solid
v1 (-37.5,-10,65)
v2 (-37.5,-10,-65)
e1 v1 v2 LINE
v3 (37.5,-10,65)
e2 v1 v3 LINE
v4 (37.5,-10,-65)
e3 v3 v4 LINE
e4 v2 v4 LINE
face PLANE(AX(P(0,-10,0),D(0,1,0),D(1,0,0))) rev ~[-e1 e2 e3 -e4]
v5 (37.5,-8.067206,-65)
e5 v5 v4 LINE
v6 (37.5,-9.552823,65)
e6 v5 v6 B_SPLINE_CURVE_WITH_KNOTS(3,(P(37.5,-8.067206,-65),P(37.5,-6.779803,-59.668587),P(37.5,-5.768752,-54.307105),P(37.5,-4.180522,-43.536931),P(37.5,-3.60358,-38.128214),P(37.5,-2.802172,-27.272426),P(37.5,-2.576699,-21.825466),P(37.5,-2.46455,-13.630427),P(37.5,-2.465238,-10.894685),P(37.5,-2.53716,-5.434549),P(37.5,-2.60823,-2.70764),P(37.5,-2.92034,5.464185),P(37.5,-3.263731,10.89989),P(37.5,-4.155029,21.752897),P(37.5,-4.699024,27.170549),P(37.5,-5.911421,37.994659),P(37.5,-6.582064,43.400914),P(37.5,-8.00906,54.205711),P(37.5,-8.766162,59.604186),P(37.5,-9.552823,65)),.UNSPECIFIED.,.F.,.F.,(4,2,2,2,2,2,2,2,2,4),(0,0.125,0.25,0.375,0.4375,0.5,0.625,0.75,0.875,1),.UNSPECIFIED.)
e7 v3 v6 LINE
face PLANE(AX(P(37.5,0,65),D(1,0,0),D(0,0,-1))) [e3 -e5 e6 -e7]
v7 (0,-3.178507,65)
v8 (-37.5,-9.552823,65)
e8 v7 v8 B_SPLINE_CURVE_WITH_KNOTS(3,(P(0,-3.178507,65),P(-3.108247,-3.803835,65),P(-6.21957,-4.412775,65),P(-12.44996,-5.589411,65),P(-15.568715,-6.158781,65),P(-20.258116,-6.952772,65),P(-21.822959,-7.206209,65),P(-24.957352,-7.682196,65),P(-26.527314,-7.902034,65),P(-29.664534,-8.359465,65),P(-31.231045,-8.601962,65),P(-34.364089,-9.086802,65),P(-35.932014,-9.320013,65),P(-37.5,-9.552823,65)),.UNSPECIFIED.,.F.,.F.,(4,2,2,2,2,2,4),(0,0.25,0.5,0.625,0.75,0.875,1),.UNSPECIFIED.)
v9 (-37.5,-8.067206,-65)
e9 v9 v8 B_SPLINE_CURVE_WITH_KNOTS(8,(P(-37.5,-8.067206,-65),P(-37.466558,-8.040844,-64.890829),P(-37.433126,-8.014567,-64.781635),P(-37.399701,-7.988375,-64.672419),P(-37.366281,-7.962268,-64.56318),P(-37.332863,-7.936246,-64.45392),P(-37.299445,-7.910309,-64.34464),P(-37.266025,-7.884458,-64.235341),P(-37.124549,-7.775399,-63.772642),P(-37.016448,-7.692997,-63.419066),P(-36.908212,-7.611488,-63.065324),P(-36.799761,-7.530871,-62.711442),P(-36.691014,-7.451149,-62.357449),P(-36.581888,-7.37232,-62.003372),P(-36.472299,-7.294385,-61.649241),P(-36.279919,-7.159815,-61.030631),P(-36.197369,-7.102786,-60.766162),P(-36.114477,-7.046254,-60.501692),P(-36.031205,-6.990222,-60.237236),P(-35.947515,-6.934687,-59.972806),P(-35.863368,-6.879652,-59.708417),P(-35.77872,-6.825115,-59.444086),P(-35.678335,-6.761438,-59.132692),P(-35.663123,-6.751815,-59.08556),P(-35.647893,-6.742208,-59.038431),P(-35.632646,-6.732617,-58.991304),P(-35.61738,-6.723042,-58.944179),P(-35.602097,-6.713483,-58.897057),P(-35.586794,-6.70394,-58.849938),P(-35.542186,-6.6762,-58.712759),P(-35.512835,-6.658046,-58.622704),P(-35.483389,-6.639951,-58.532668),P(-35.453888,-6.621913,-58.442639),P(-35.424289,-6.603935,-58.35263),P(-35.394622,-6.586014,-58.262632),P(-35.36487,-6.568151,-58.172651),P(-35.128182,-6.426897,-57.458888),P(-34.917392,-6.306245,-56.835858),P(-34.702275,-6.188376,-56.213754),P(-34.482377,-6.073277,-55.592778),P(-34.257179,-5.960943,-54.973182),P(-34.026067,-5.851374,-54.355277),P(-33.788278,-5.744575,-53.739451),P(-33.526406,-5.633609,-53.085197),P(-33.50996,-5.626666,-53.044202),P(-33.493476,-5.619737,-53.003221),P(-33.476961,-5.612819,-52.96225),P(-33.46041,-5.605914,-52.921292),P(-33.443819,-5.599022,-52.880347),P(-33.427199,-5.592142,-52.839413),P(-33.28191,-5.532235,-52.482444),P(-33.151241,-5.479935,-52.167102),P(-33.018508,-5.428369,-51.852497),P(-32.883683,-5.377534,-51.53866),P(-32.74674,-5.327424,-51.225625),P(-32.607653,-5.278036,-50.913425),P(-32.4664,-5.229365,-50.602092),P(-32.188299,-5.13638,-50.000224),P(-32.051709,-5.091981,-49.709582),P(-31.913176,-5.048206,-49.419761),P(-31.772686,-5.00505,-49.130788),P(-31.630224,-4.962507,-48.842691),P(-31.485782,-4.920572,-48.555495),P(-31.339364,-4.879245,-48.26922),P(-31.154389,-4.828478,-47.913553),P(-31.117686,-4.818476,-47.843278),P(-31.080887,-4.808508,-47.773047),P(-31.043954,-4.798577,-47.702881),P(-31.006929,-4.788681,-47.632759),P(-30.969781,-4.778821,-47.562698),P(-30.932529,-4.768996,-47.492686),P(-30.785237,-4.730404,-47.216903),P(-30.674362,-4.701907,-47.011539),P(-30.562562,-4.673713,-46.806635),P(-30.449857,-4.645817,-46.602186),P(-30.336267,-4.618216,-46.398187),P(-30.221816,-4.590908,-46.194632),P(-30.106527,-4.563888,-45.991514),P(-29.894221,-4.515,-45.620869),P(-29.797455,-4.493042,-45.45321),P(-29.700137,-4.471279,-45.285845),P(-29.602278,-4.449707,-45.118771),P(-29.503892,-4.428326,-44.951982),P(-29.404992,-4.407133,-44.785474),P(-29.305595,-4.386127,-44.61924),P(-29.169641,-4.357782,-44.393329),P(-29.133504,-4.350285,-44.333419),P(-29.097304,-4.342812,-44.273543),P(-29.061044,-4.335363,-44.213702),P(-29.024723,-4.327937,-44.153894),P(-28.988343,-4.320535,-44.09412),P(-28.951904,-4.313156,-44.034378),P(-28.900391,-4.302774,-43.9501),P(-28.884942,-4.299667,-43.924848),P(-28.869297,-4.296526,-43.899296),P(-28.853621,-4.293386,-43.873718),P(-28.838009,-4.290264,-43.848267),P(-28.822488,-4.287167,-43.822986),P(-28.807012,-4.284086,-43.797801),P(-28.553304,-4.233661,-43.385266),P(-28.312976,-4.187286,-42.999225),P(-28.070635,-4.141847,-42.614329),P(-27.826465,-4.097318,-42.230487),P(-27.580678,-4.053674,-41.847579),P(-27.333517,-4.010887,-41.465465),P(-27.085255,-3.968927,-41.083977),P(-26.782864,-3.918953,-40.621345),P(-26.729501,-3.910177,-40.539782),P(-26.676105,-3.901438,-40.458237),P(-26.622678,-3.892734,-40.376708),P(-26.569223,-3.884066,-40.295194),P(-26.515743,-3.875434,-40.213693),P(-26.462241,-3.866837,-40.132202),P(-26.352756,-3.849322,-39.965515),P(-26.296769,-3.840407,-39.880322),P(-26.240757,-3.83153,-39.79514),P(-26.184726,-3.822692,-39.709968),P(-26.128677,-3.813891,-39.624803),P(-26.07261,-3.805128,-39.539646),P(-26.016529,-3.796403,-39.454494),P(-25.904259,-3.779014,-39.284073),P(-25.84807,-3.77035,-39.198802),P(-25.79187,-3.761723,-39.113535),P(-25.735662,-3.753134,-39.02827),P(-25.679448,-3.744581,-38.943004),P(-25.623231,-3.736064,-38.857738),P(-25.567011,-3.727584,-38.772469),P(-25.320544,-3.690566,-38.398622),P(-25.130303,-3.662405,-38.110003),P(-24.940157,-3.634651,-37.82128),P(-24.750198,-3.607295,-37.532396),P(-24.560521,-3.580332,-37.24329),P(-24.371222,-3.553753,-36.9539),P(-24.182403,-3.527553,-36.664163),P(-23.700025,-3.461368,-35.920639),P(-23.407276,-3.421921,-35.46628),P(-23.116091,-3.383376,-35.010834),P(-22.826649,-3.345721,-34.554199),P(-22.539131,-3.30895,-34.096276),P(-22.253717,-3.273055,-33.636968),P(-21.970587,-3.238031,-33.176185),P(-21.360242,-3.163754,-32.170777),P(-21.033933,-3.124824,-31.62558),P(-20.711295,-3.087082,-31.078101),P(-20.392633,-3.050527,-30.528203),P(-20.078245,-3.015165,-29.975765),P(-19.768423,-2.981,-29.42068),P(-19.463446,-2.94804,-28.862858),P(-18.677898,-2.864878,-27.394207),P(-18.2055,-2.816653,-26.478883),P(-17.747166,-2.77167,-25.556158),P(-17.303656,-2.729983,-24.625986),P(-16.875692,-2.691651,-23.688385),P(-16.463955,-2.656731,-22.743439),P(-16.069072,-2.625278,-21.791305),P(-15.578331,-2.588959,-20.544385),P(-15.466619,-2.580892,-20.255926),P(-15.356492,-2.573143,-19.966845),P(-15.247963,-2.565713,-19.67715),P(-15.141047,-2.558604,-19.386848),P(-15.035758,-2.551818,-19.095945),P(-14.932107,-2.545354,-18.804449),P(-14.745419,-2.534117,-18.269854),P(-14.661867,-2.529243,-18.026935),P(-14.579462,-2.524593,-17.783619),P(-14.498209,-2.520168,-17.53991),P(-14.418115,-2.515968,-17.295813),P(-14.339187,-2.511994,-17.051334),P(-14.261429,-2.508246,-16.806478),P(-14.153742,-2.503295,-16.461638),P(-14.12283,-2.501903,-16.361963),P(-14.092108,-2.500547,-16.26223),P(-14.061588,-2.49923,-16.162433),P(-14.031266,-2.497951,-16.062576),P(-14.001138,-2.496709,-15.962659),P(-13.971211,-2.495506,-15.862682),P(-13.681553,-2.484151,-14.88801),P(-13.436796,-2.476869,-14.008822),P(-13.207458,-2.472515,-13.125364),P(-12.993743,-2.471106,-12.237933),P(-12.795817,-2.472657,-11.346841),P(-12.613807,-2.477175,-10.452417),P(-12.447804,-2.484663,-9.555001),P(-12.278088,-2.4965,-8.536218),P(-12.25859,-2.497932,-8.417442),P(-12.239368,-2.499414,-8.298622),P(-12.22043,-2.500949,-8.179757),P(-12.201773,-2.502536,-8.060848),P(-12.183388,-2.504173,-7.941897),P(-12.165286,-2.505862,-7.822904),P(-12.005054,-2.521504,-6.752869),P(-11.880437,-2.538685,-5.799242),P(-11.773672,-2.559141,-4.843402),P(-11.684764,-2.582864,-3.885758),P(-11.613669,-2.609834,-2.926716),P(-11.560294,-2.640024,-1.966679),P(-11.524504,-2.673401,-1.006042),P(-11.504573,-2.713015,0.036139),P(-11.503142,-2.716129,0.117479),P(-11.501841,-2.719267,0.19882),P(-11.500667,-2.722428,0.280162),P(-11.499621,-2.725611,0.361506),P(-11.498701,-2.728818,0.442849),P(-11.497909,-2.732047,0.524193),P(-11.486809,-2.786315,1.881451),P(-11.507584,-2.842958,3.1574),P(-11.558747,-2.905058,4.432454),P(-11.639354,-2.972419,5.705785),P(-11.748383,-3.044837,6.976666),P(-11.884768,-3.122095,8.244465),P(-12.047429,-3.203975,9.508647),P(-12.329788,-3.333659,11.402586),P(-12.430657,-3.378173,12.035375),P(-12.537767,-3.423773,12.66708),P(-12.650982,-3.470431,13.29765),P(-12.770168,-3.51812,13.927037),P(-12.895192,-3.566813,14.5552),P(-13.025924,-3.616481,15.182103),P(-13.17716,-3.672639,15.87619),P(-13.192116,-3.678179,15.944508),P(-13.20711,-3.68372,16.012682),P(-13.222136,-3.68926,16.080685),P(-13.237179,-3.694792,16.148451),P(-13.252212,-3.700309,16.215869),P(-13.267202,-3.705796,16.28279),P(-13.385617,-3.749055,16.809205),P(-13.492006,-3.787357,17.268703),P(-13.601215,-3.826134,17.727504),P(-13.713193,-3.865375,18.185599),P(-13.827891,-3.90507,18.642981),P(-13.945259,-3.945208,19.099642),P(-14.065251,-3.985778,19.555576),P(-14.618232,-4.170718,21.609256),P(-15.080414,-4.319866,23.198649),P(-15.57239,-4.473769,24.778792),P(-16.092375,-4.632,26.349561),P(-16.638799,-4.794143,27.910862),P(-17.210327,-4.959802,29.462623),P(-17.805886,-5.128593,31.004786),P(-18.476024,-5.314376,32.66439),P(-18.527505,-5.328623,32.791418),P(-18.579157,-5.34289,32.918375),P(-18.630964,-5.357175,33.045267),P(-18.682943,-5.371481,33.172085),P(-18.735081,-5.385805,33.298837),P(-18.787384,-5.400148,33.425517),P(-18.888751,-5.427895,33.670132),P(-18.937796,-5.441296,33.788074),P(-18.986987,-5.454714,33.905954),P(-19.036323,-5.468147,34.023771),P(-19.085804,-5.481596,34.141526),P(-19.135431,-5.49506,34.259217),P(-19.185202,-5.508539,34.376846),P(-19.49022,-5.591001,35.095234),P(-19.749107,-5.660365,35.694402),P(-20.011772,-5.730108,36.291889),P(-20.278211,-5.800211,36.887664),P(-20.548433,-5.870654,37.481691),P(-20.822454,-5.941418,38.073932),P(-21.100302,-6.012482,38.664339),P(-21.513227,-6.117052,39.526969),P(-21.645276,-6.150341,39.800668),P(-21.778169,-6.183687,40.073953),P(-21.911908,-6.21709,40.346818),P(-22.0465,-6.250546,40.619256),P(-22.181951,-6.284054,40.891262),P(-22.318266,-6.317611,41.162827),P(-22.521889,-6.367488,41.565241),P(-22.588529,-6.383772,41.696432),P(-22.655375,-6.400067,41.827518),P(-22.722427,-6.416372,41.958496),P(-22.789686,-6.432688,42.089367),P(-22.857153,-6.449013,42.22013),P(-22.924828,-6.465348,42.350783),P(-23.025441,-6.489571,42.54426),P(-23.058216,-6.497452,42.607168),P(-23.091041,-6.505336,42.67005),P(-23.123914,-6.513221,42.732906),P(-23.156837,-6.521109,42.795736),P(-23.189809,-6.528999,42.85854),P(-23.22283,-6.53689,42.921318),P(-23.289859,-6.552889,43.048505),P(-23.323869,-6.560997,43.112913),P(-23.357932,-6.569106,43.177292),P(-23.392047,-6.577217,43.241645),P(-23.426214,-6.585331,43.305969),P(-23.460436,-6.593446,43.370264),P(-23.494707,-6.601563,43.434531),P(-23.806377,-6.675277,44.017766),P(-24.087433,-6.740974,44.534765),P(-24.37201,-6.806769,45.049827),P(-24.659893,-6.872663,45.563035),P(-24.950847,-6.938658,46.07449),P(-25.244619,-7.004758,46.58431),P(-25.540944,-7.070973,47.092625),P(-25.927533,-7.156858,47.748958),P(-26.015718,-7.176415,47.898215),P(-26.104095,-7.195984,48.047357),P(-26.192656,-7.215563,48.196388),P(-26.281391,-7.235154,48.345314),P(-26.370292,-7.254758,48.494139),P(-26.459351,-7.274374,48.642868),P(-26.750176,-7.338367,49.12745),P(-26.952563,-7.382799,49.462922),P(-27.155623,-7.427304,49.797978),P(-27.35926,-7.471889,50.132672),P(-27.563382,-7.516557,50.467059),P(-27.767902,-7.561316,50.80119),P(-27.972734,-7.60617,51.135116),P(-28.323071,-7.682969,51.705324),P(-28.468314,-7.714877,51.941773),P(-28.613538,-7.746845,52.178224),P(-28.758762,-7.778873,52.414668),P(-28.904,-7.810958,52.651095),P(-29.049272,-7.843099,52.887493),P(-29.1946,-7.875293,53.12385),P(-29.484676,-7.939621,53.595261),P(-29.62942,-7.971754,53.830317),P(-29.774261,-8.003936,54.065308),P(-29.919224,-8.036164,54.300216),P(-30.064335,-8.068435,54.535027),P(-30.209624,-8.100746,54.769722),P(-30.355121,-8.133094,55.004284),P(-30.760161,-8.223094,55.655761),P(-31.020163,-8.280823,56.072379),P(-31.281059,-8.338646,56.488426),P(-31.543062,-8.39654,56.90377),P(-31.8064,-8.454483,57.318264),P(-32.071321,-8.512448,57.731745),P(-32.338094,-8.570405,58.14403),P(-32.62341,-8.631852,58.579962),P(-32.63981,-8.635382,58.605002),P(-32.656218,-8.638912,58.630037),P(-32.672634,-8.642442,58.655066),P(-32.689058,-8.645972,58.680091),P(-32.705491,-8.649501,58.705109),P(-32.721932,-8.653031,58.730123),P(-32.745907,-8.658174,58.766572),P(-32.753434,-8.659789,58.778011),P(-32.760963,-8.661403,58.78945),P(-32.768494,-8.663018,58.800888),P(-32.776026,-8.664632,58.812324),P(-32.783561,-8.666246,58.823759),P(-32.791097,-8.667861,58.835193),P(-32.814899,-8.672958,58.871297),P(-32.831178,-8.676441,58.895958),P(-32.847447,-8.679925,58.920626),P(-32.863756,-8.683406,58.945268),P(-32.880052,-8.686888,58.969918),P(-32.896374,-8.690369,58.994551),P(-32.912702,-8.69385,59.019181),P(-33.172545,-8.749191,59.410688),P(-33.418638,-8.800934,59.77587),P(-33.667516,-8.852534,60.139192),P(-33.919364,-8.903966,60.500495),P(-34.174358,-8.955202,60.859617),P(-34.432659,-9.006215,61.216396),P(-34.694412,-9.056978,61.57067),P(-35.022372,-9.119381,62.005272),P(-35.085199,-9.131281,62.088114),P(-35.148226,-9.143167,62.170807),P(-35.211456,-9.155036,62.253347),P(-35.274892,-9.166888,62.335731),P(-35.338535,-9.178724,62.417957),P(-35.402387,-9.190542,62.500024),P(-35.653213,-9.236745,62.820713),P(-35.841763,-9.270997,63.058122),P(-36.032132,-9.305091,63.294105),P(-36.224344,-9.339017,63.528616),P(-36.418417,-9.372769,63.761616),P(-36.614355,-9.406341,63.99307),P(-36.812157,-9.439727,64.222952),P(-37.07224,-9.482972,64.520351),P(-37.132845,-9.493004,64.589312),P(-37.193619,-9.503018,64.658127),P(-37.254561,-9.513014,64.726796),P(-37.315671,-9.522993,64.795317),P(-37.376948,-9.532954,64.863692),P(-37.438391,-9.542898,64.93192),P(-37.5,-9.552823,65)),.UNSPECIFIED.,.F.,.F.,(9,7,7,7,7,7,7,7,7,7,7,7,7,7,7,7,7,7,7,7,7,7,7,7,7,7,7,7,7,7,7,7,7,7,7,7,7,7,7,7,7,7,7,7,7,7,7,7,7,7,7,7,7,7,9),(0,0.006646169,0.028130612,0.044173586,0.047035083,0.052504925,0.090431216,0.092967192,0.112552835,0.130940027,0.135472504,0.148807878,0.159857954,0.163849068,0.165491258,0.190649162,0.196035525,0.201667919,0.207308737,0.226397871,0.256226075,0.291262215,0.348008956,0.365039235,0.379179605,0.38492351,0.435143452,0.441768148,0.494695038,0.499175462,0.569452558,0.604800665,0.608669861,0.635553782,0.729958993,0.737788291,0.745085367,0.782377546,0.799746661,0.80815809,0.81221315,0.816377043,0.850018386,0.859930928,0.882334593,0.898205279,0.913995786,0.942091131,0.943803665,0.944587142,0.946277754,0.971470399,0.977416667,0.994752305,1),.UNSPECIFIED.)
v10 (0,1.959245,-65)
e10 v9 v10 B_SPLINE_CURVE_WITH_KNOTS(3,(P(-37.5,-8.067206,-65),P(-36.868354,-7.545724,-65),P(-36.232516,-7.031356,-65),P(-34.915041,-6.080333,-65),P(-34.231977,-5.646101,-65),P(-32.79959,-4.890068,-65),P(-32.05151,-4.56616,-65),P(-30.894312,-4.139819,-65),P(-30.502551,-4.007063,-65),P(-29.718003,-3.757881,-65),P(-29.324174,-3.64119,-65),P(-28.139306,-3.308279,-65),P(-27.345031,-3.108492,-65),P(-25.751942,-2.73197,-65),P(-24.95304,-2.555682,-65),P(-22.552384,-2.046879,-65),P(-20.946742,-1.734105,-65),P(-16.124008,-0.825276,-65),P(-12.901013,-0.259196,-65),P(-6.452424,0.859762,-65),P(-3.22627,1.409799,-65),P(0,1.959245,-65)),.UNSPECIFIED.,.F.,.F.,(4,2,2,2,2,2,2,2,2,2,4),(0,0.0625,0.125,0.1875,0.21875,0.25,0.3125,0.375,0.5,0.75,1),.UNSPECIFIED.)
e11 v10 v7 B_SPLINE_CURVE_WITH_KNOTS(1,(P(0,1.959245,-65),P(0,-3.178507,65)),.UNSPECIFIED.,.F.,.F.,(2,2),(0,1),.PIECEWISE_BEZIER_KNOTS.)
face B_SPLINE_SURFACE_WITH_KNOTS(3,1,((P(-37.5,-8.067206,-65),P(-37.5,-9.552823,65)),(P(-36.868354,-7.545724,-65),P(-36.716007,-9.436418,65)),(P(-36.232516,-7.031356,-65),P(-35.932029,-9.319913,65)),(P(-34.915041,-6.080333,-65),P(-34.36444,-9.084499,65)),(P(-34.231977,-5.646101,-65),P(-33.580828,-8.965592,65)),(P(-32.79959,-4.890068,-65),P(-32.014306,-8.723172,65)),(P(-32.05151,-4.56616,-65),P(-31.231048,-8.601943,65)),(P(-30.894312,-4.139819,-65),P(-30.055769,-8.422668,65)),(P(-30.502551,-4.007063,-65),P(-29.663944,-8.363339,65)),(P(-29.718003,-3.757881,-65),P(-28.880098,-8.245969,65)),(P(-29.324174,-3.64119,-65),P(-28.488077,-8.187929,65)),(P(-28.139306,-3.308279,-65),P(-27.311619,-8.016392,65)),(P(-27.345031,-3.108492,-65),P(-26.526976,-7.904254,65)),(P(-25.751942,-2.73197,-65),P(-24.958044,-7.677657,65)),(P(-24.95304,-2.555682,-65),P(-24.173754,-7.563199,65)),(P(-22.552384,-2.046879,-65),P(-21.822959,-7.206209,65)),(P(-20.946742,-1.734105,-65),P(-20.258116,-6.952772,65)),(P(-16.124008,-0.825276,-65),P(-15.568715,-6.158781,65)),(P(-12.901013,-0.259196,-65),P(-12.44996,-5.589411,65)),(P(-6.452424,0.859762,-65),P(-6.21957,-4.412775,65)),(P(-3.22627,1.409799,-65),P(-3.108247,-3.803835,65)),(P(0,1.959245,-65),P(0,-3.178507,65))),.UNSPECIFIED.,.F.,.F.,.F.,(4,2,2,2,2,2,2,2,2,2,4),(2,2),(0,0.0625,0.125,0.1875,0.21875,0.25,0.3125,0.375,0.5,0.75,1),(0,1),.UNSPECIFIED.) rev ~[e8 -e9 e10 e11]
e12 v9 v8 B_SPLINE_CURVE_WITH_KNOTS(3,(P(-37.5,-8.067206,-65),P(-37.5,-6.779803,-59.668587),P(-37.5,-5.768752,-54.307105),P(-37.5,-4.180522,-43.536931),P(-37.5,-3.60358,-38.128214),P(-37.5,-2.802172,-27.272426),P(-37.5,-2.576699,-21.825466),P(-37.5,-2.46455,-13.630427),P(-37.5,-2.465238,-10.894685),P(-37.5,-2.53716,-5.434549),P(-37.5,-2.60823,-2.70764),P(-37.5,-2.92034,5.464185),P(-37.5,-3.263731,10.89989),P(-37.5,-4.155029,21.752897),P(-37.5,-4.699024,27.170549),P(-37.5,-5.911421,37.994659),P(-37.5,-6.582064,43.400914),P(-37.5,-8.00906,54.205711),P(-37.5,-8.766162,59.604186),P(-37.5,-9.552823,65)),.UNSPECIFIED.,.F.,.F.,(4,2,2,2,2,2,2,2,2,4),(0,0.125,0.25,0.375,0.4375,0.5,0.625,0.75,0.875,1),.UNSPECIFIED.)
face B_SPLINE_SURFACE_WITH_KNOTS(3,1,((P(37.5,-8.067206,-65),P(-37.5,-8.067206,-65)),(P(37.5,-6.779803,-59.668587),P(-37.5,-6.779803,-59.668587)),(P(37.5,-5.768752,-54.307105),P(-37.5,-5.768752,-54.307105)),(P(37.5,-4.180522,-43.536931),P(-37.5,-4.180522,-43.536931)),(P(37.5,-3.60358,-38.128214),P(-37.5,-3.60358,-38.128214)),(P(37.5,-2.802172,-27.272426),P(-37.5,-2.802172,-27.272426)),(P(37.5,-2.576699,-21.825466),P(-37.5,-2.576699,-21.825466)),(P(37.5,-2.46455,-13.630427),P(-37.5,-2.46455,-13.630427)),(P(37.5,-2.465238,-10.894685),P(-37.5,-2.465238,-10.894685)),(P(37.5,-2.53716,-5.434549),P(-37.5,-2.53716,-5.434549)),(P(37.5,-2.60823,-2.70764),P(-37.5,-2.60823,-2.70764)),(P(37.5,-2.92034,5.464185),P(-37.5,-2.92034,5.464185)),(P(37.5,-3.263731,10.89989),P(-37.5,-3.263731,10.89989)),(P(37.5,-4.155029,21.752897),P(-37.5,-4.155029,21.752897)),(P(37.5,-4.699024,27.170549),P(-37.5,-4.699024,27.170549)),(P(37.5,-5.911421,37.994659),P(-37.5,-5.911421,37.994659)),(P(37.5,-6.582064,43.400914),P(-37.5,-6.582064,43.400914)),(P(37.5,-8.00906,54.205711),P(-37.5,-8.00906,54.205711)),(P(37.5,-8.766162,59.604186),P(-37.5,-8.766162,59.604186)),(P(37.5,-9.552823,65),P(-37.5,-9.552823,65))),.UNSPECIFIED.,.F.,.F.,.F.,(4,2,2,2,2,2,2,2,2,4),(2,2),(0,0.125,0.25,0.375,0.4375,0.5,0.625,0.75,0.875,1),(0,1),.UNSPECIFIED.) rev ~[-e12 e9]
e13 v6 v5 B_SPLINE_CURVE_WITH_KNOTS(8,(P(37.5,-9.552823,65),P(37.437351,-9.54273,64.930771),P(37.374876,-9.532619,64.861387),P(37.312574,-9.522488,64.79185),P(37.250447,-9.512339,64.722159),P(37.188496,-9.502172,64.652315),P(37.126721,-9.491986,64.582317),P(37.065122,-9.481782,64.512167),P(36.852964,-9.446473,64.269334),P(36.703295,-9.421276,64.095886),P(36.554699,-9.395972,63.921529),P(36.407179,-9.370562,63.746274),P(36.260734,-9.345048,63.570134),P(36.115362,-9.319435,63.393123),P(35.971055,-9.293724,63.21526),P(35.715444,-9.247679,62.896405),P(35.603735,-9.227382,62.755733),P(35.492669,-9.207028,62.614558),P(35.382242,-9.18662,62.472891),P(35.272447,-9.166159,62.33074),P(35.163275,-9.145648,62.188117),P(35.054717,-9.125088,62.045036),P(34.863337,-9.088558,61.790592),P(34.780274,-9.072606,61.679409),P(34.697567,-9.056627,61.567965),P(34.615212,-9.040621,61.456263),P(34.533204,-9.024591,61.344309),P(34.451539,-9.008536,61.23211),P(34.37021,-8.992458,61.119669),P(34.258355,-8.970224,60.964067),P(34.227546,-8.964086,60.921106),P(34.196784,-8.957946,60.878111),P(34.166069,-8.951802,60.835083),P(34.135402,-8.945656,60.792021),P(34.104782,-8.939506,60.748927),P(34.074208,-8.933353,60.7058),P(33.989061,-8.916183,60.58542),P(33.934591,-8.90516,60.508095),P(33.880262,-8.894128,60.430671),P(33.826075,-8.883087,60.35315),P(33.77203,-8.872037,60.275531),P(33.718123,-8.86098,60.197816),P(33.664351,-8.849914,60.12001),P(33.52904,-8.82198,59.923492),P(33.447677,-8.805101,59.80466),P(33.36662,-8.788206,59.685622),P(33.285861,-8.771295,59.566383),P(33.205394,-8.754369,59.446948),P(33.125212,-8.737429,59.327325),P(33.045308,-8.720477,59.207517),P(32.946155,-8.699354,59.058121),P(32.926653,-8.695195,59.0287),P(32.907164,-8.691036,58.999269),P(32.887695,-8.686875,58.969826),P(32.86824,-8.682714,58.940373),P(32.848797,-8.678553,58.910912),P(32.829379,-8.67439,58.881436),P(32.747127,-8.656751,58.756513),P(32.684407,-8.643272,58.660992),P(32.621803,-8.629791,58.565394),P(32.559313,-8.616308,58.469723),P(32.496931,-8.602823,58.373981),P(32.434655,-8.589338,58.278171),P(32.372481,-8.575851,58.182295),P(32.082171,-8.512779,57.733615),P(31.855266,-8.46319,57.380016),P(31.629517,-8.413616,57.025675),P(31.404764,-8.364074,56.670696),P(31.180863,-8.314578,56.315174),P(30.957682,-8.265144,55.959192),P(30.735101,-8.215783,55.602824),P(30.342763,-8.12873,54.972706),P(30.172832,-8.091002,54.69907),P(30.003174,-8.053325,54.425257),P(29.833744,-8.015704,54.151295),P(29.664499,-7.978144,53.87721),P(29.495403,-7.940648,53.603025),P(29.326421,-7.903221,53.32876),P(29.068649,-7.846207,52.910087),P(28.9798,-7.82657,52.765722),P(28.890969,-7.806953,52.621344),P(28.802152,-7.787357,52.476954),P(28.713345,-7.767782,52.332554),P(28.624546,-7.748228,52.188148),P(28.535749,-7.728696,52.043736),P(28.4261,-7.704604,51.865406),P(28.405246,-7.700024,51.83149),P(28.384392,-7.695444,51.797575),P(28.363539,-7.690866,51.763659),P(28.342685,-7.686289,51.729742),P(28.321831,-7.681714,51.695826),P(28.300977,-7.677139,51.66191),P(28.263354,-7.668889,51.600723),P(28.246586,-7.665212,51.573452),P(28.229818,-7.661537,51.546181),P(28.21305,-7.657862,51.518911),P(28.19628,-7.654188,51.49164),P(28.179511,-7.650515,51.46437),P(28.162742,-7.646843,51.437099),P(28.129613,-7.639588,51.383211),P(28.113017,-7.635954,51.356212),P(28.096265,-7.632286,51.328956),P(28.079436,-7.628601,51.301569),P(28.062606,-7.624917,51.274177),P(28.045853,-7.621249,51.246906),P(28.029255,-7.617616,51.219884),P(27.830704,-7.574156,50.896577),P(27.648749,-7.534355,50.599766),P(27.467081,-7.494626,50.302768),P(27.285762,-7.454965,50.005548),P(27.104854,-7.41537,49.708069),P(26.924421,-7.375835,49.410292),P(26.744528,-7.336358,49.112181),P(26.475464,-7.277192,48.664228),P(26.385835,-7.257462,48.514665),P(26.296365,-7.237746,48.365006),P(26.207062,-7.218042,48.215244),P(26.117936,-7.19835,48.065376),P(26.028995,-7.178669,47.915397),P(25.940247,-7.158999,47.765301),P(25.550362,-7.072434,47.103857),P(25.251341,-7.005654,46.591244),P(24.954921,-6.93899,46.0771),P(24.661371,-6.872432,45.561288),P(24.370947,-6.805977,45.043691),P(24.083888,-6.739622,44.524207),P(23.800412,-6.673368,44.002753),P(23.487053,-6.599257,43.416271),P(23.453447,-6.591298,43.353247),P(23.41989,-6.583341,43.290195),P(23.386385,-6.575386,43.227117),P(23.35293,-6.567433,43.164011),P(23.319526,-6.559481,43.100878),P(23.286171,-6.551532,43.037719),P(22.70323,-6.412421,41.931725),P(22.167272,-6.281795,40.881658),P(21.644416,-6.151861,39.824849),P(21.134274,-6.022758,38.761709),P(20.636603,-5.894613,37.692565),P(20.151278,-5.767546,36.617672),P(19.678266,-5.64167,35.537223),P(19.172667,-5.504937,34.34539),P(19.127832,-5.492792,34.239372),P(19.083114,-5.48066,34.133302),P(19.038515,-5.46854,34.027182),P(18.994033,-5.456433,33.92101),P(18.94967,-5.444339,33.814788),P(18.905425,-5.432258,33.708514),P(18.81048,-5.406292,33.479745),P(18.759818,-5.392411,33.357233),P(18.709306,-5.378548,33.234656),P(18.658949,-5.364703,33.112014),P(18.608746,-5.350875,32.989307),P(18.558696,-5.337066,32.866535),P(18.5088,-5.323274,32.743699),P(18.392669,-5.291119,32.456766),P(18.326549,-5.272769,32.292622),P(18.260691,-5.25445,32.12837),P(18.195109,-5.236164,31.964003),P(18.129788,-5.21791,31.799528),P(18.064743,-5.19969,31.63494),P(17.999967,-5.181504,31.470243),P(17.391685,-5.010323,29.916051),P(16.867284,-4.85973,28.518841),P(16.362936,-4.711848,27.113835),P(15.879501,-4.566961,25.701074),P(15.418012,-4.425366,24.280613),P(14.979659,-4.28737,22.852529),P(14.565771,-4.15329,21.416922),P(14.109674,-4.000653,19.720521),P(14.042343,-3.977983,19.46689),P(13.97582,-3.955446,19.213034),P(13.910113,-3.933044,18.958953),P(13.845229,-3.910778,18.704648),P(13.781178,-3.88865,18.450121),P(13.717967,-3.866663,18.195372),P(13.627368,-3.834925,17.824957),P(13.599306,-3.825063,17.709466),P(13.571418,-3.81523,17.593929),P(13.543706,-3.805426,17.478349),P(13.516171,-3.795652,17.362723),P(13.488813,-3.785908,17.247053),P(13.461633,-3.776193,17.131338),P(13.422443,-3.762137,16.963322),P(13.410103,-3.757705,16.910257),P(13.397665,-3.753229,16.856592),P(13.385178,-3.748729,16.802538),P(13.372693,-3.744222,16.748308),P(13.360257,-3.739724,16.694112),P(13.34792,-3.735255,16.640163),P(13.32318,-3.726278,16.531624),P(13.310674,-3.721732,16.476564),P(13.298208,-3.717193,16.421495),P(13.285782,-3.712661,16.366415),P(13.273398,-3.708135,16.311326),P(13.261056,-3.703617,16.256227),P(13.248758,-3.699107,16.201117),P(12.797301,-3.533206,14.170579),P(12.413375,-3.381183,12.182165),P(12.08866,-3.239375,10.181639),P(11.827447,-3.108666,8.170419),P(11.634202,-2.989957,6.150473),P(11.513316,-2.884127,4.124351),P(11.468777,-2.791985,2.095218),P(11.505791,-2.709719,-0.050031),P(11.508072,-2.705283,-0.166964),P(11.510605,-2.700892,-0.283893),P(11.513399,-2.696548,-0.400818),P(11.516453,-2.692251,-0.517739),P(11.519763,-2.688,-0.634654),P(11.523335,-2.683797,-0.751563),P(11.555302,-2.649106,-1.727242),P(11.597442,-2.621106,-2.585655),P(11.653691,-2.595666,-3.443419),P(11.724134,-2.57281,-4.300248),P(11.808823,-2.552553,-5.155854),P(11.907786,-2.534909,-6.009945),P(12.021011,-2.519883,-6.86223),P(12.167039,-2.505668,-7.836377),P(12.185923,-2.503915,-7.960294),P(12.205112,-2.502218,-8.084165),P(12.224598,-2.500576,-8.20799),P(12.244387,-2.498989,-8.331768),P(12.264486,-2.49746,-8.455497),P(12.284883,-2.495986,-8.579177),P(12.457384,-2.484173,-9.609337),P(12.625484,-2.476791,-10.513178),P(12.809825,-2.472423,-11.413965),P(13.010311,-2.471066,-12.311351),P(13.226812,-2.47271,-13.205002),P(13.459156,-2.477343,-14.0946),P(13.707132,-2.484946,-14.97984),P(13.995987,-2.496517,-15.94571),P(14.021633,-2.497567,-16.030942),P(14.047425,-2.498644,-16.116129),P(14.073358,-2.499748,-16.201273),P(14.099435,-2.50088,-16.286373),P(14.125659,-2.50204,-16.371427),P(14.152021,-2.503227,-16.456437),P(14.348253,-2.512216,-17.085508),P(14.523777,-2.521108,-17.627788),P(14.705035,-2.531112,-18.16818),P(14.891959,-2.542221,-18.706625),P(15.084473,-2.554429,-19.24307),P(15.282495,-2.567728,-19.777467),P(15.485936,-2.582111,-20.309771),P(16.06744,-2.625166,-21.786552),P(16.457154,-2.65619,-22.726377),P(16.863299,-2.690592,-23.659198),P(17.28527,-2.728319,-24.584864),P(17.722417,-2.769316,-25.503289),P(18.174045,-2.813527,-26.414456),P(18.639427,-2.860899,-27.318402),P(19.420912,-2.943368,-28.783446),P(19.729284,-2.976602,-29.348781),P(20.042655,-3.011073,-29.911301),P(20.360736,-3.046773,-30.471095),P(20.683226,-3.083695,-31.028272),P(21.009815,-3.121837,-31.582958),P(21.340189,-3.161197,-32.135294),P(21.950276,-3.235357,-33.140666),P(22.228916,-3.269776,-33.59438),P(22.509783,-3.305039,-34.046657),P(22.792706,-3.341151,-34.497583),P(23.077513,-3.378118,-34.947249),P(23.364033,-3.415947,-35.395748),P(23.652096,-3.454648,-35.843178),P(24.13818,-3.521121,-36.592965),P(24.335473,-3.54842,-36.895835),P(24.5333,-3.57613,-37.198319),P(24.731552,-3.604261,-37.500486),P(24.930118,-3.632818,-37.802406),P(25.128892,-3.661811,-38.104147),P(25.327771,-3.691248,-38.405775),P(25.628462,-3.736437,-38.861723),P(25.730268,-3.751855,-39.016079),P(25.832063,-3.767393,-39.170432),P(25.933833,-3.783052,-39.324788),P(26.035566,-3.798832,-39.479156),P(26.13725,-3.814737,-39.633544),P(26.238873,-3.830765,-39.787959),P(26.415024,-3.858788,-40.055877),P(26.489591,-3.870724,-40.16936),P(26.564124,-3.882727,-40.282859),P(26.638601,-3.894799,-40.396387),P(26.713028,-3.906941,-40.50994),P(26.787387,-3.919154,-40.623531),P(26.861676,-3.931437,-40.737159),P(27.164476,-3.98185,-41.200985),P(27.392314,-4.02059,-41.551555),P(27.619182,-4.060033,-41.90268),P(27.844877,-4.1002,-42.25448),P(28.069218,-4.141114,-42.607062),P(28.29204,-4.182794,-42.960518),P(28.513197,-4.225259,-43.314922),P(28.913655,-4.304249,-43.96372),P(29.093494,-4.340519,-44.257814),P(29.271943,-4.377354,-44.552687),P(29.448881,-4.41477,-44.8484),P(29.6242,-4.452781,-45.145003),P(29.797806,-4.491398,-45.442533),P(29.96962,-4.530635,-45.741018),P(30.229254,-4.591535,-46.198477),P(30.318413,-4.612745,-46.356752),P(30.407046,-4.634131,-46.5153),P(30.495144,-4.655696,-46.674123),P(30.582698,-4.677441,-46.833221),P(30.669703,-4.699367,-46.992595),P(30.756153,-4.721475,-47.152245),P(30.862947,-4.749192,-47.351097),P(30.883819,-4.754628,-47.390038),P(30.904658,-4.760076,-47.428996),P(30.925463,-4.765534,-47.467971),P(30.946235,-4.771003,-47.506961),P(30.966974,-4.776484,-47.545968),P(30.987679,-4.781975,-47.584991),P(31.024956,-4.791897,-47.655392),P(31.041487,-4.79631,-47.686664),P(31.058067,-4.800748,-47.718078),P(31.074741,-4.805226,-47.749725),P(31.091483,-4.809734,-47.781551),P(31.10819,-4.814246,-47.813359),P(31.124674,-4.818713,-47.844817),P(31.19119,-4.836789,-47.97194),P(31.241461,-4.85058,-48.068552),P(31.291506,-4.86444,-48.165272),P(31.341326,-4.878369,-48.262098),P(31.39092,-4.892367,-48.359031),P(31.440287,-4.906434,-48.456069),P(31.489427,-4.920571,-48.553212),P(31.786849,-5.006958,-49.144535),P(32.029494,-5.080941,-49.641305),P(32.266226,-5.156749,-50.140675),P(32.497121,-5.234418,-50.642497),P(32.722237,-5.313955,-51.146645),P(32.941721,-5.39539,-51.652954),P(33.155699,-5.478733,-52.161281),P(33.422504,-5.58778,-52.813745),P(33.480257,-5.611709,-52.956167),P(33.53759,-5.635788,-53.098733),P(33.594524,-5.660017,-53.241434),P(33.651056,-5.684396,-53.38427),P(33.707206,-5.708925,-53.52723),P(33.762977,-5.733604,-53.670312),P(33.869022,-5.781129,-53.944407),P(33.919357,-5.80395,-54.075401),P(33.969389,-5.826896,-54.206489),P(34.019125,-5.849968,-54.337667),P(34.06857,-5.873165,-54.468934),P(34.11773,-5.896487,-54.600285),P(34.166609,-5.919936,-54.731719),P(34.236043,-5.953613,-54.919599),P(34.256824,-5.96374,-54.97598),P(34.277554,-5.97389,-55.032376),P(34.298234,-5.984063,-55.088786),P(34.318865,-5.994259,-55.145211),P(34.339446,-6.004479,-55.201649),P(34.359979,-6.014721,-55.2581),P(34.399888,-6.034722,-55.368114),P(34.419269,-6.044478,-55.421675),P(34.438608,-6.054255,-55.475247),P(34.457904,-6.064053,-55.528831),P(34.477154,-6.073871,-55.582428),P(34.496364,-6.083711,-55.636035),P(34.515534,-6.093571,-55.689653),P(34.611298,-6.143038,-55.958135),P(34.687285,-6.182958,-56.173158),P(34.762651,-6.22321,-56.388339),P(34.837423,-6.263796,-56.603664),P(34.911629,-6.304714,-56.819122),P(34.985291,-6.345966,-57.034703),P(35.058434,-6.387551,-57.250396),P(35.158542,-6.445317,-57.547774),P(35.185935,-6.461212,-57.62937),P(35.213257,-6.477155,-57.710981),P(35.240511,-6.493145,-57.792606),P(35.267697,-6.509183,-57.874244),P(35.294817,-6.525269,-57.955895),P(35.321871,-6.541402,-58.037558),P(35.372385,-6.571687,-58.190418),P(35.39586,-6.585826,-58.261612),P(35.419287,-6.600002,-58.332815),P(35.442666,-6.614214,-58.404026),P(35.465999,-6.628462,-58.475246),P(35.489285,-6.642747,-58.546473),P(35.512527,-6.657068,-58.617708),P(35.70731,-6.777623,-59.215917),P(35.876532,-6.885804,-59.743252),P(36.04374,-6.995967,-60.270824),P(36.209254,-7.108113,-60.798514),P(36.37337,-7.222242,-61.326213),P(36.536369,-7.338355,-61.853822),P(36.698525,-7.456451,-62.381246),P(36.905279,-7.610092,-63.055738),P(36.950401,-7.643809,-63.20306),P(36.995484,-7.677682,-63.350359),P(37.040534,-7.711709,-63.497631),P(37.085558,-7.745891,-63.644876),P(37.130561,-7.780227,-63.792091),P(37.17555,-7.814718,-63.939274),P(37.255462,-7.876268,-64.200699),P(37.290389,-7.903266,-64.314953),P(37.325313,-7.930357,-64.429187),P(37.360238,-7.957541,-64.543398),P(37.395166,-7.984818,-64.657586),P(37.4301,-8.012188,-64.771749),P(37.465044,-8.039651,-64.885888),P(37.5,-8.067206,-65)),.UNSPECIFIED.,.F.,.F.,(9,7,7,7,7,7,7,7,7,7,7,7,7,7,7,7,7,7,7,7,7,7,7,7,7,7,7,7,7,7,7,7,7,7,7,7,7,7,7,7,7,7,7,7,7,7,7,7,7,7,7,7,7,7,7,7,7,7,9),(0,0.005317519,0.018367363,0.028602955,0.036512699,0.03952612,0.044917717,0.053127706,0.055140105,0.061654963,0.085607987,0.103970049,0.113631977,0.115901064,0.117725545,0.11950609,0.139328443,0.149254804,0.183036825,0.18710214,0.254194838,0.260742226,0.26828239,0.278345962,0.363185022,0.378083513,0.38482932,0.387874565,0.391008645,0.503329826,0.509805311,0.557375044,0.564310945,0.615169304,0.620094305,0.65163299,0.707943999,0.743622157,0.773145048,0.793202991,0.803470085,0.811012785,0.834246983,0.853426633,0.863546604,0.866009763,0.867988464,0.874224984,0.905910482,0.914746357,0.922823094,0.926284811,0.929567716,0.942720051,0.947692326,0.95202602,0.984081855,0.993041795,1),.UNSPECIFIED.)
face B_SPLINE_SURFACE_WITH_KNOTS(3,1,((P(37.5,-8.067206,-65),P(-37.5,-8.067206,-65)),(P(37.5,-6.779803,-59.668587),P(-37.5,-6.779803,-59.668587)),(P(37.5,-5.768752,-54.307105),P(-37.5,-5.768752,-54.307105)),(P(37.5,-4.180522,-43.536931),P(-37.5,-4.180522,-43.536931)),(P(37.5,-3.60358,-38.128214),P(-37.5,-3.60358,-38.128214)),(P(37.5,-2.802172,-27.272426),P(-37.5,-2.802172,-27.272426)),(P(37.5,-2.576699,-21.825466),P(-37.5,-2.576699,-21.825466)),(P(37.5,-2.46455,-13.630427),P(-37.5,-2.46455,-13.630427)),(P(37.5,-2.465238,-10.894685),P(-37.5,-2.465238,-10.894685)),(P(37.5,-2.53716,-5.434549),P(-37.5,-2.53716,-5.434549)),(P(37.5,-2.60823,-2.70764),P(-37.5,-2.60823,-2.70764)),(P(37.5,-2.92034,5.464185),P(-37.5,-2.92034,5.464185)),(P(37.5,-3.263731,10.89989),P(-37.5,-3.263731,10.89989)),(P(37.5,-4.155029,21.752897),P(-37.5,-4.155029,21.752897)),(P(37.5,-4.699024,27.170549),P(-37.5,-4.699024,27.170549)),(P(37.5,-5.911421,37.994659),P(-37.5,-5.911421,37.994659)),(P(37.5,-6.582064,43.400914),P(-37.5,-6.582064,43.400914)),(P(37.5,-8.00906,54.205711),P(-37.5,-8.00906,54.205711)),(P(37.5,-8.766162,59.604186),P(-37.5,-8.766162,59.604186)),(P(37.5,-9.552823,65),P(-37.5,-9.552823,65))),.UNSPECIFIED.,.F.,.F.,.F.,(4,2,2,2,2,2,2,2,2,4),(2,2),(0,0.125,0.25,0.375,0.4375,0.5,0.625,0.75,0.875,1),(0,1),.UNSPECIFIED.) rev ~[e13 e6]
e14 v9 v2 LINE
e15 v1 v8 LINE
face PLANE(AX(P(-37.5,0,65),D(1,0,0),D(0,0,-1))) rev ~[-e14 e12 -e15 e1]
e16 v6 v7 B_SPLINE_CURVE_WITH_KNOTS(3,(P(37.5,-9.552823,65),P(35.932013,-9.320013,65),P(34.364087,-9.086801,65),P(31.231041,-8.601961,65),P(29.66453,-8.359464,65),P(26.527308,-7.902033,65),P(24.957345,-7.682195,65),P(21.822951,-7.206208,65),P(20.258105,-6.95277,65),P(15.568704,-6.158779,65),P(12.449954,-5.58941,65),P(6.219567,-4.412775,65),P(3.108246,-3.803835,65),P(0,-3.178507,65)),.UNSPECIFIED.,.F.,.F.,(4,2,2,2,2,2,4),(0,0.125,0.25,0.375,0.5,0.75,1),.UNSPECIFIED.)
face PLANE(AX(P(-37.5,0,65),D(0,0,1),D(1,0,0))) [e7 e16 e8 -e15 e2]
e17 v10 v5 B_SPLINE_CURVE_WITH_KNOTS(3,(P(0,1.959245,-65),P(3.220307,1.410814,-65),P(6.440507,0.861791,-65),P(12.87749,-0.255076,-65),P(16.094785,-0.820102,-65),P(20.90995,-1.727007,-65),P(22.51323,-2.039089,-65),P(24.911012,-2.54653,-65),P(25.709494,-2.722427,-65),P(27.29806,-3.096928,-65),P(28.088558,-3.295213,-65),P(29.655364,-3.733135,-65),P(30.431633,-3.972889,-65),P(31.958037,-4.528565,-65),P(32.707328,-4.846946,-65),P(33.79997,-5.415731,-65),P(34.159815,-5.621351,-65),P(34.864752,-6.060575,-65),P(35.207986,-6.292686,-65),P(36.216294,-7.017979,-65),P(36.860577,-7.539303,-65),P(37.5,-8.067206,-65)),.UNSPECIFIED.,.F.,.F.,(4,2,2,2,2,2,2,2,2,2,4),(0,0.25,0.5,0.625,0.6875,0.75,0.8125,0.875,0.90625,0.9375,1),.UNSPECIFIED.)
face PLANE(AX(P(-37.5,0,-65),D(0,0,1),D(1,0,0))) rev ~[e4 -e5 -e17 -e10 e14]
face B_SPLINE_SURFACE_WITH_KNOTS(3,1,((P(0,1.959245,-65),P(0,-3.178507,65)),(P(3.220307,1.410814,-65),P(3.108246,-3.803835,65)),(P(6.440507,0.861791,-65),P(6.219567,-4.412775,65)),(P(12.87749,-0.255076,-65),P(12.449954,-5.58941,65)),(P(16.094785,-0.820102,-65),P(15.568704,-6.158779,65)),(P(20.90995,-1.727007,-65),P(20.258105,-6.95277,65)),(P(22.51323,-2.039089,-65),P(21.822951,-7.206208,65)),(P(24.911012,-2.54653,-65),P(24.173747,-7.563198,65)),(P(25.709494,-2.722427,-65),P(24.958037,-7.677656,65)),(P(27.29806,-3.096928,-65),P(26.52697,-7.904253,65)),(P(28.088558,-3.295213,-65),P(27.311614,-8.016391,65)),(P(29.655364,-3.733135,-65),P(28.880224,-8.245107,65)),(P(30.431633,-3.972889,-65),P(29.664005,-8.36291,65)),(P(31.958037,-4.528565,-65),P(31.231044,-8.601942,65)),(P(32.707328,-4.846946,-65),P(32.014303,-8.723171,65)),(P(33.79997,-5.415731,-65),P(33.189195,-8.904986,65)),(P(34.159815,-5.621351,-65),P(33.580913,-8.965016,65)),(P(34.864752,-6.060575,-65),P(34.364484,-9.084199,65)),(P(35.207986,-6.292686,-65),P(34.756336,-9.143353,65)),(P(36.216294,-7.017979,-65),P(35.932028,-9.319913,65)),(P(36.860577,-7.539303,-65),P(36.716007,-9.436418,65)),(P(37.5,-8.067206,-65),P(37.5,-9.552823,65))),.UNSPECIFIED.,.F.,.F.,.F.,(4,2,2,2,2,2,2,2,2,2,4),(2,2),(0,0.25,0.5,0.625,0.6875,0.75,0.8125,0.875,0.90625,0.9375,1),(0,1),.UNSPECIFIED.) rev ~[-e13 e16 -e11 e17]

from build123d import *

# Parameters (mm, degrees)
SKETCH1_W           = 75
SKETCH1_H           = 130
BOSS_EXTRUDE1_DEPTH = 10


with BuildPart() as part:
    # Sketch1 → Boss-Extrude1 (new, symmetric)
    with BuildSketch(Plane(origin=(0, 0, 0), x_dir=(1, 0, 0), z_dir=(0, 1, 0))):
        Rectangle(SKETCH1_W, SKETCH1_H)
    extrude(amount=BOSS_EXTRUDE1_DEPTH, both=True)

    # Sketch18 → Cut-Loft2 section 0
    with BuildSketch(Plane(origin=(0, 0, -65), x_dir=(-1, 0, 0), z_dir=(0, 0, -1))):
        with BuildLine():
            Line((-37.5, -8.067205879), (-37.5, 10))
            Line((-37.5, 10), (37.5, 10))
            Line((37.5, 10), (37.5, -8.067205879))
            add(Edge.make_bspline(
                [(37.5, -8.067205879), (36.868354158, -7.545723818), (36.232515665, -7.031356123), (34.9150412, -6.080332922), (34.231976939, -5.64610103), (32.799590286, -4.890068418), (32.051510087, -4.566159862), (30.894312176, -4.139819038), (30.50255078, -4.007063364), (29.718003297, -3.757880572), (29.324173778, -3.641189654), (28.139305681, -3.308278708), (27.345030939, -3.108492419), (25.751942464, -2.731969529), (24.953040234, -2.555682332), (22.552383626, -2.046879016), (20.946741679, -1.73410457), (16.124007748, -0.825275602), (12.901013123, -0.259195592), (6.452423939, 0.859761572), (3.226270152, 1.409798881), (0, 1.959245267)],
                knots=[0, 0, 0, 0, 0.0625, 0.0625, 0.125, 0.125, 0.1875, 0.1875, 0.21875, 0.21875, 0.25, 0.25, 0.3125, 0.3125, 0.375, 0.375, 0.5, 0.5, 0.75, 0.75, 1, 1, 1, 1], degree=3))
            add(Edge.make_bspline(
                [(0, 1.959245267), (-3.220307336, 1.410814372), (-6.440507139, 0.86179111), (-12.877490243, -0.255075859), (-16.09478496, -0.820102332), (-20.909950392, -1.727007192), (-22.513230185, -2.03908866), (-24.911012133, -2.546530452), (-25.709493997, -2.722427014), (-27.298060456, -3.096927844), (-28.088557635, -3.29521287), (-29.655363733, -3.733135251), (-30.431632803, -3.972888742), (-31.958036808, -4.528564833), (-32.707328207, -4.846945958), (-33.799969506, -5.415730657), (-34.159815247, -5.621350704), (-34.864751883, -6.060575044), (-35.207986102, -6.292686311), (-36.216294341, -7.017979177), (-36.860577231, -7.539303245), (-37.5, -8.067205879)],
                knots=[0, 0, 0, 0, 0.25, 0.25, 0.5, 0.5, 0.625, 0.625, 0.6875, 0.6875, 0.75, 0.75, 0.8125, 0.8125, 0.875, 0.875, 0.90625, 0.90625, 0.9375, 0.9375, 1, 1, 1, 1], degree=3))
        make_face()
    # Sketch19 → Cut-Loft2 section 1
    with BuildSketch(Plane.XY.offset(65)):
        with BuildLine():
            Line((-37.5, -9.55282328), (-37.5, 10))
            Line((-37.5, 10), (37.5, 10))
            Line((37.5, 10), (37.5, -9.55282328))
            add(Edge.make_bspline(
                [(37.5, -9.55282328), (35.932013067, -9.320012995), (34.36408728, -9.086801305), (31.231041127, -8.601961383), (29.664529784, -8.359464397), (26.527308392, -7.902033368), (24.957345427, -7.682195005), (21.822950757, -7.206207592), (20.258104881, -6.952769992), (15.568704339, -6.158778808), (12.449953925, -5.589410309), (6.219567493, -4.412774878), (3.108245531, -3.803834972), (0, -3.178506899)],
                knots=[0, 0, 0, 0, 0.125, 0.125, 0.25, 0.25, 0.375, 0.375, 0.5, 0.5, 0.75, 0.75, 1, 1, 1, 1], degree=3))
            add(Edge.make_bspline(
                [(0, -3.178506899), (-3.10824669, -3.803835204), (-6.21957007, -4.412775385), (-12.449959995, -5.589411435), (-15.568715473, -6.158780795), (-20.258115527, -6.952771743), (-21.822959191, -7.206208919), (-24.957352089, -7.68219597), (-26.527314428, -7.902034226), (-29.664534297, -8.359465077), (-31.231044679, -8.601961938), (-34.364088921, -9.086801553), (-35.932013884, -9.320013117), (-37.5, -9.55282328)],
                knots=[0, 0, 0, 0, 0.25, 0.25, 0.5, 0.5, 0.625, 0.625, 0.75, 0.75, 0.875, 0.875, 1, 1, 1, 1], degree=3))
        make_face()
    loft(mode=Mode.SUBTRACT)

    # Sketch22 → Loft1 section 0
    with BuildSketch(Plane(origin=(37.5, 0, 0), x_dir=(0, 0, -1), z_dir=(1, 0, 0))):
        with BuildLine():
            Line((-65, -9.55282328), (-65, -10))
            Line((-65, -10), (65, -10))
            Line((65, -10), (65, -8.067205879))
            add(Edge.make_bspline(
                [(65, -8.067205879), (59.66858748, -6.779803174), (54.307105316, -5.768751628), (43.536931445, -4.180521721), (38.128214021, -3.603579704), (27.272426373, -2.802172102), (21.82546577, -2.576699058), (13.630427287, -2.464550347), (10.894685054, -2.46523815), (5.434548965, -2.537160266), (2.707640474, -2.608230068), (-5.464184608, -2.920340072), (-10.899890277, -3.263731439), (-21.75289667, -4.155028741), (-27.170549339, -4.699023884), (-37.99465892, -5.911420694), (-43.400914096, -6.582064044), (-54.205711181, -8.009060079), (-59.604185655, -8.766162086), (-65, -9.55282328)],
                knots=[0, 0, 0, 0, 0.125, 0.125, 0.25, 0.25, 0.375, 0.375, 0.4375, 0.4375, 0.5, 0.5, 0.625, 0.625, 0.75, 0.75, 0.875, 0.875, 1, 1, 1, 1], degree=3))
        make_face()
    # Sketch21 → Loft1 section 1
    with BuildSketch(Plane.ZY.offset(37.5)):
        with BuildLine():
            Line((-65, -8.067205879), (-65, -10))
            Line((-65, -10), (65, -10))
            Line((65, -10), (65, -9.55282328))
            add(Edge.make_bspline(
                [(-65, -8.067205879), (-59.66858748, -6.779803174), (-54.307105316, -5.768751628), (-43.536931445, -4.180521721), (-38.128214021, -3.603579704), (-27.272426373, -2.802172102), (-21.82546577, -2.576699058), (-13.630427287, -2.464550347), (-10.894685054, -2.46523815), (-5.434548965, -2.537160266), (-2.707640474, -2.608230068), (5.464184608, -2.920340072), (10.899890277, -3.263731439), (21.75289667, -4.155028741), (27.170549339, -4.699023884), (37.99465892, -5.911420694), (43.400914096, -6.582064044), (54.205711181, -8.009060079), (59.604185655, -8.766162086), (65, -9.55282328)],
                knots=[0, 0, 0, 0, 0.125, 0.125, 0.25, 0.25, 0.375, 0.375, 0.4375, 0.4375, 0.5, 0.5, 0.625, 0.625, 0.75, 0.75, 0.875, 0.875, 1, 1, 1, 1], degree=3))
        make_face()
    loft()


solid = part.part
